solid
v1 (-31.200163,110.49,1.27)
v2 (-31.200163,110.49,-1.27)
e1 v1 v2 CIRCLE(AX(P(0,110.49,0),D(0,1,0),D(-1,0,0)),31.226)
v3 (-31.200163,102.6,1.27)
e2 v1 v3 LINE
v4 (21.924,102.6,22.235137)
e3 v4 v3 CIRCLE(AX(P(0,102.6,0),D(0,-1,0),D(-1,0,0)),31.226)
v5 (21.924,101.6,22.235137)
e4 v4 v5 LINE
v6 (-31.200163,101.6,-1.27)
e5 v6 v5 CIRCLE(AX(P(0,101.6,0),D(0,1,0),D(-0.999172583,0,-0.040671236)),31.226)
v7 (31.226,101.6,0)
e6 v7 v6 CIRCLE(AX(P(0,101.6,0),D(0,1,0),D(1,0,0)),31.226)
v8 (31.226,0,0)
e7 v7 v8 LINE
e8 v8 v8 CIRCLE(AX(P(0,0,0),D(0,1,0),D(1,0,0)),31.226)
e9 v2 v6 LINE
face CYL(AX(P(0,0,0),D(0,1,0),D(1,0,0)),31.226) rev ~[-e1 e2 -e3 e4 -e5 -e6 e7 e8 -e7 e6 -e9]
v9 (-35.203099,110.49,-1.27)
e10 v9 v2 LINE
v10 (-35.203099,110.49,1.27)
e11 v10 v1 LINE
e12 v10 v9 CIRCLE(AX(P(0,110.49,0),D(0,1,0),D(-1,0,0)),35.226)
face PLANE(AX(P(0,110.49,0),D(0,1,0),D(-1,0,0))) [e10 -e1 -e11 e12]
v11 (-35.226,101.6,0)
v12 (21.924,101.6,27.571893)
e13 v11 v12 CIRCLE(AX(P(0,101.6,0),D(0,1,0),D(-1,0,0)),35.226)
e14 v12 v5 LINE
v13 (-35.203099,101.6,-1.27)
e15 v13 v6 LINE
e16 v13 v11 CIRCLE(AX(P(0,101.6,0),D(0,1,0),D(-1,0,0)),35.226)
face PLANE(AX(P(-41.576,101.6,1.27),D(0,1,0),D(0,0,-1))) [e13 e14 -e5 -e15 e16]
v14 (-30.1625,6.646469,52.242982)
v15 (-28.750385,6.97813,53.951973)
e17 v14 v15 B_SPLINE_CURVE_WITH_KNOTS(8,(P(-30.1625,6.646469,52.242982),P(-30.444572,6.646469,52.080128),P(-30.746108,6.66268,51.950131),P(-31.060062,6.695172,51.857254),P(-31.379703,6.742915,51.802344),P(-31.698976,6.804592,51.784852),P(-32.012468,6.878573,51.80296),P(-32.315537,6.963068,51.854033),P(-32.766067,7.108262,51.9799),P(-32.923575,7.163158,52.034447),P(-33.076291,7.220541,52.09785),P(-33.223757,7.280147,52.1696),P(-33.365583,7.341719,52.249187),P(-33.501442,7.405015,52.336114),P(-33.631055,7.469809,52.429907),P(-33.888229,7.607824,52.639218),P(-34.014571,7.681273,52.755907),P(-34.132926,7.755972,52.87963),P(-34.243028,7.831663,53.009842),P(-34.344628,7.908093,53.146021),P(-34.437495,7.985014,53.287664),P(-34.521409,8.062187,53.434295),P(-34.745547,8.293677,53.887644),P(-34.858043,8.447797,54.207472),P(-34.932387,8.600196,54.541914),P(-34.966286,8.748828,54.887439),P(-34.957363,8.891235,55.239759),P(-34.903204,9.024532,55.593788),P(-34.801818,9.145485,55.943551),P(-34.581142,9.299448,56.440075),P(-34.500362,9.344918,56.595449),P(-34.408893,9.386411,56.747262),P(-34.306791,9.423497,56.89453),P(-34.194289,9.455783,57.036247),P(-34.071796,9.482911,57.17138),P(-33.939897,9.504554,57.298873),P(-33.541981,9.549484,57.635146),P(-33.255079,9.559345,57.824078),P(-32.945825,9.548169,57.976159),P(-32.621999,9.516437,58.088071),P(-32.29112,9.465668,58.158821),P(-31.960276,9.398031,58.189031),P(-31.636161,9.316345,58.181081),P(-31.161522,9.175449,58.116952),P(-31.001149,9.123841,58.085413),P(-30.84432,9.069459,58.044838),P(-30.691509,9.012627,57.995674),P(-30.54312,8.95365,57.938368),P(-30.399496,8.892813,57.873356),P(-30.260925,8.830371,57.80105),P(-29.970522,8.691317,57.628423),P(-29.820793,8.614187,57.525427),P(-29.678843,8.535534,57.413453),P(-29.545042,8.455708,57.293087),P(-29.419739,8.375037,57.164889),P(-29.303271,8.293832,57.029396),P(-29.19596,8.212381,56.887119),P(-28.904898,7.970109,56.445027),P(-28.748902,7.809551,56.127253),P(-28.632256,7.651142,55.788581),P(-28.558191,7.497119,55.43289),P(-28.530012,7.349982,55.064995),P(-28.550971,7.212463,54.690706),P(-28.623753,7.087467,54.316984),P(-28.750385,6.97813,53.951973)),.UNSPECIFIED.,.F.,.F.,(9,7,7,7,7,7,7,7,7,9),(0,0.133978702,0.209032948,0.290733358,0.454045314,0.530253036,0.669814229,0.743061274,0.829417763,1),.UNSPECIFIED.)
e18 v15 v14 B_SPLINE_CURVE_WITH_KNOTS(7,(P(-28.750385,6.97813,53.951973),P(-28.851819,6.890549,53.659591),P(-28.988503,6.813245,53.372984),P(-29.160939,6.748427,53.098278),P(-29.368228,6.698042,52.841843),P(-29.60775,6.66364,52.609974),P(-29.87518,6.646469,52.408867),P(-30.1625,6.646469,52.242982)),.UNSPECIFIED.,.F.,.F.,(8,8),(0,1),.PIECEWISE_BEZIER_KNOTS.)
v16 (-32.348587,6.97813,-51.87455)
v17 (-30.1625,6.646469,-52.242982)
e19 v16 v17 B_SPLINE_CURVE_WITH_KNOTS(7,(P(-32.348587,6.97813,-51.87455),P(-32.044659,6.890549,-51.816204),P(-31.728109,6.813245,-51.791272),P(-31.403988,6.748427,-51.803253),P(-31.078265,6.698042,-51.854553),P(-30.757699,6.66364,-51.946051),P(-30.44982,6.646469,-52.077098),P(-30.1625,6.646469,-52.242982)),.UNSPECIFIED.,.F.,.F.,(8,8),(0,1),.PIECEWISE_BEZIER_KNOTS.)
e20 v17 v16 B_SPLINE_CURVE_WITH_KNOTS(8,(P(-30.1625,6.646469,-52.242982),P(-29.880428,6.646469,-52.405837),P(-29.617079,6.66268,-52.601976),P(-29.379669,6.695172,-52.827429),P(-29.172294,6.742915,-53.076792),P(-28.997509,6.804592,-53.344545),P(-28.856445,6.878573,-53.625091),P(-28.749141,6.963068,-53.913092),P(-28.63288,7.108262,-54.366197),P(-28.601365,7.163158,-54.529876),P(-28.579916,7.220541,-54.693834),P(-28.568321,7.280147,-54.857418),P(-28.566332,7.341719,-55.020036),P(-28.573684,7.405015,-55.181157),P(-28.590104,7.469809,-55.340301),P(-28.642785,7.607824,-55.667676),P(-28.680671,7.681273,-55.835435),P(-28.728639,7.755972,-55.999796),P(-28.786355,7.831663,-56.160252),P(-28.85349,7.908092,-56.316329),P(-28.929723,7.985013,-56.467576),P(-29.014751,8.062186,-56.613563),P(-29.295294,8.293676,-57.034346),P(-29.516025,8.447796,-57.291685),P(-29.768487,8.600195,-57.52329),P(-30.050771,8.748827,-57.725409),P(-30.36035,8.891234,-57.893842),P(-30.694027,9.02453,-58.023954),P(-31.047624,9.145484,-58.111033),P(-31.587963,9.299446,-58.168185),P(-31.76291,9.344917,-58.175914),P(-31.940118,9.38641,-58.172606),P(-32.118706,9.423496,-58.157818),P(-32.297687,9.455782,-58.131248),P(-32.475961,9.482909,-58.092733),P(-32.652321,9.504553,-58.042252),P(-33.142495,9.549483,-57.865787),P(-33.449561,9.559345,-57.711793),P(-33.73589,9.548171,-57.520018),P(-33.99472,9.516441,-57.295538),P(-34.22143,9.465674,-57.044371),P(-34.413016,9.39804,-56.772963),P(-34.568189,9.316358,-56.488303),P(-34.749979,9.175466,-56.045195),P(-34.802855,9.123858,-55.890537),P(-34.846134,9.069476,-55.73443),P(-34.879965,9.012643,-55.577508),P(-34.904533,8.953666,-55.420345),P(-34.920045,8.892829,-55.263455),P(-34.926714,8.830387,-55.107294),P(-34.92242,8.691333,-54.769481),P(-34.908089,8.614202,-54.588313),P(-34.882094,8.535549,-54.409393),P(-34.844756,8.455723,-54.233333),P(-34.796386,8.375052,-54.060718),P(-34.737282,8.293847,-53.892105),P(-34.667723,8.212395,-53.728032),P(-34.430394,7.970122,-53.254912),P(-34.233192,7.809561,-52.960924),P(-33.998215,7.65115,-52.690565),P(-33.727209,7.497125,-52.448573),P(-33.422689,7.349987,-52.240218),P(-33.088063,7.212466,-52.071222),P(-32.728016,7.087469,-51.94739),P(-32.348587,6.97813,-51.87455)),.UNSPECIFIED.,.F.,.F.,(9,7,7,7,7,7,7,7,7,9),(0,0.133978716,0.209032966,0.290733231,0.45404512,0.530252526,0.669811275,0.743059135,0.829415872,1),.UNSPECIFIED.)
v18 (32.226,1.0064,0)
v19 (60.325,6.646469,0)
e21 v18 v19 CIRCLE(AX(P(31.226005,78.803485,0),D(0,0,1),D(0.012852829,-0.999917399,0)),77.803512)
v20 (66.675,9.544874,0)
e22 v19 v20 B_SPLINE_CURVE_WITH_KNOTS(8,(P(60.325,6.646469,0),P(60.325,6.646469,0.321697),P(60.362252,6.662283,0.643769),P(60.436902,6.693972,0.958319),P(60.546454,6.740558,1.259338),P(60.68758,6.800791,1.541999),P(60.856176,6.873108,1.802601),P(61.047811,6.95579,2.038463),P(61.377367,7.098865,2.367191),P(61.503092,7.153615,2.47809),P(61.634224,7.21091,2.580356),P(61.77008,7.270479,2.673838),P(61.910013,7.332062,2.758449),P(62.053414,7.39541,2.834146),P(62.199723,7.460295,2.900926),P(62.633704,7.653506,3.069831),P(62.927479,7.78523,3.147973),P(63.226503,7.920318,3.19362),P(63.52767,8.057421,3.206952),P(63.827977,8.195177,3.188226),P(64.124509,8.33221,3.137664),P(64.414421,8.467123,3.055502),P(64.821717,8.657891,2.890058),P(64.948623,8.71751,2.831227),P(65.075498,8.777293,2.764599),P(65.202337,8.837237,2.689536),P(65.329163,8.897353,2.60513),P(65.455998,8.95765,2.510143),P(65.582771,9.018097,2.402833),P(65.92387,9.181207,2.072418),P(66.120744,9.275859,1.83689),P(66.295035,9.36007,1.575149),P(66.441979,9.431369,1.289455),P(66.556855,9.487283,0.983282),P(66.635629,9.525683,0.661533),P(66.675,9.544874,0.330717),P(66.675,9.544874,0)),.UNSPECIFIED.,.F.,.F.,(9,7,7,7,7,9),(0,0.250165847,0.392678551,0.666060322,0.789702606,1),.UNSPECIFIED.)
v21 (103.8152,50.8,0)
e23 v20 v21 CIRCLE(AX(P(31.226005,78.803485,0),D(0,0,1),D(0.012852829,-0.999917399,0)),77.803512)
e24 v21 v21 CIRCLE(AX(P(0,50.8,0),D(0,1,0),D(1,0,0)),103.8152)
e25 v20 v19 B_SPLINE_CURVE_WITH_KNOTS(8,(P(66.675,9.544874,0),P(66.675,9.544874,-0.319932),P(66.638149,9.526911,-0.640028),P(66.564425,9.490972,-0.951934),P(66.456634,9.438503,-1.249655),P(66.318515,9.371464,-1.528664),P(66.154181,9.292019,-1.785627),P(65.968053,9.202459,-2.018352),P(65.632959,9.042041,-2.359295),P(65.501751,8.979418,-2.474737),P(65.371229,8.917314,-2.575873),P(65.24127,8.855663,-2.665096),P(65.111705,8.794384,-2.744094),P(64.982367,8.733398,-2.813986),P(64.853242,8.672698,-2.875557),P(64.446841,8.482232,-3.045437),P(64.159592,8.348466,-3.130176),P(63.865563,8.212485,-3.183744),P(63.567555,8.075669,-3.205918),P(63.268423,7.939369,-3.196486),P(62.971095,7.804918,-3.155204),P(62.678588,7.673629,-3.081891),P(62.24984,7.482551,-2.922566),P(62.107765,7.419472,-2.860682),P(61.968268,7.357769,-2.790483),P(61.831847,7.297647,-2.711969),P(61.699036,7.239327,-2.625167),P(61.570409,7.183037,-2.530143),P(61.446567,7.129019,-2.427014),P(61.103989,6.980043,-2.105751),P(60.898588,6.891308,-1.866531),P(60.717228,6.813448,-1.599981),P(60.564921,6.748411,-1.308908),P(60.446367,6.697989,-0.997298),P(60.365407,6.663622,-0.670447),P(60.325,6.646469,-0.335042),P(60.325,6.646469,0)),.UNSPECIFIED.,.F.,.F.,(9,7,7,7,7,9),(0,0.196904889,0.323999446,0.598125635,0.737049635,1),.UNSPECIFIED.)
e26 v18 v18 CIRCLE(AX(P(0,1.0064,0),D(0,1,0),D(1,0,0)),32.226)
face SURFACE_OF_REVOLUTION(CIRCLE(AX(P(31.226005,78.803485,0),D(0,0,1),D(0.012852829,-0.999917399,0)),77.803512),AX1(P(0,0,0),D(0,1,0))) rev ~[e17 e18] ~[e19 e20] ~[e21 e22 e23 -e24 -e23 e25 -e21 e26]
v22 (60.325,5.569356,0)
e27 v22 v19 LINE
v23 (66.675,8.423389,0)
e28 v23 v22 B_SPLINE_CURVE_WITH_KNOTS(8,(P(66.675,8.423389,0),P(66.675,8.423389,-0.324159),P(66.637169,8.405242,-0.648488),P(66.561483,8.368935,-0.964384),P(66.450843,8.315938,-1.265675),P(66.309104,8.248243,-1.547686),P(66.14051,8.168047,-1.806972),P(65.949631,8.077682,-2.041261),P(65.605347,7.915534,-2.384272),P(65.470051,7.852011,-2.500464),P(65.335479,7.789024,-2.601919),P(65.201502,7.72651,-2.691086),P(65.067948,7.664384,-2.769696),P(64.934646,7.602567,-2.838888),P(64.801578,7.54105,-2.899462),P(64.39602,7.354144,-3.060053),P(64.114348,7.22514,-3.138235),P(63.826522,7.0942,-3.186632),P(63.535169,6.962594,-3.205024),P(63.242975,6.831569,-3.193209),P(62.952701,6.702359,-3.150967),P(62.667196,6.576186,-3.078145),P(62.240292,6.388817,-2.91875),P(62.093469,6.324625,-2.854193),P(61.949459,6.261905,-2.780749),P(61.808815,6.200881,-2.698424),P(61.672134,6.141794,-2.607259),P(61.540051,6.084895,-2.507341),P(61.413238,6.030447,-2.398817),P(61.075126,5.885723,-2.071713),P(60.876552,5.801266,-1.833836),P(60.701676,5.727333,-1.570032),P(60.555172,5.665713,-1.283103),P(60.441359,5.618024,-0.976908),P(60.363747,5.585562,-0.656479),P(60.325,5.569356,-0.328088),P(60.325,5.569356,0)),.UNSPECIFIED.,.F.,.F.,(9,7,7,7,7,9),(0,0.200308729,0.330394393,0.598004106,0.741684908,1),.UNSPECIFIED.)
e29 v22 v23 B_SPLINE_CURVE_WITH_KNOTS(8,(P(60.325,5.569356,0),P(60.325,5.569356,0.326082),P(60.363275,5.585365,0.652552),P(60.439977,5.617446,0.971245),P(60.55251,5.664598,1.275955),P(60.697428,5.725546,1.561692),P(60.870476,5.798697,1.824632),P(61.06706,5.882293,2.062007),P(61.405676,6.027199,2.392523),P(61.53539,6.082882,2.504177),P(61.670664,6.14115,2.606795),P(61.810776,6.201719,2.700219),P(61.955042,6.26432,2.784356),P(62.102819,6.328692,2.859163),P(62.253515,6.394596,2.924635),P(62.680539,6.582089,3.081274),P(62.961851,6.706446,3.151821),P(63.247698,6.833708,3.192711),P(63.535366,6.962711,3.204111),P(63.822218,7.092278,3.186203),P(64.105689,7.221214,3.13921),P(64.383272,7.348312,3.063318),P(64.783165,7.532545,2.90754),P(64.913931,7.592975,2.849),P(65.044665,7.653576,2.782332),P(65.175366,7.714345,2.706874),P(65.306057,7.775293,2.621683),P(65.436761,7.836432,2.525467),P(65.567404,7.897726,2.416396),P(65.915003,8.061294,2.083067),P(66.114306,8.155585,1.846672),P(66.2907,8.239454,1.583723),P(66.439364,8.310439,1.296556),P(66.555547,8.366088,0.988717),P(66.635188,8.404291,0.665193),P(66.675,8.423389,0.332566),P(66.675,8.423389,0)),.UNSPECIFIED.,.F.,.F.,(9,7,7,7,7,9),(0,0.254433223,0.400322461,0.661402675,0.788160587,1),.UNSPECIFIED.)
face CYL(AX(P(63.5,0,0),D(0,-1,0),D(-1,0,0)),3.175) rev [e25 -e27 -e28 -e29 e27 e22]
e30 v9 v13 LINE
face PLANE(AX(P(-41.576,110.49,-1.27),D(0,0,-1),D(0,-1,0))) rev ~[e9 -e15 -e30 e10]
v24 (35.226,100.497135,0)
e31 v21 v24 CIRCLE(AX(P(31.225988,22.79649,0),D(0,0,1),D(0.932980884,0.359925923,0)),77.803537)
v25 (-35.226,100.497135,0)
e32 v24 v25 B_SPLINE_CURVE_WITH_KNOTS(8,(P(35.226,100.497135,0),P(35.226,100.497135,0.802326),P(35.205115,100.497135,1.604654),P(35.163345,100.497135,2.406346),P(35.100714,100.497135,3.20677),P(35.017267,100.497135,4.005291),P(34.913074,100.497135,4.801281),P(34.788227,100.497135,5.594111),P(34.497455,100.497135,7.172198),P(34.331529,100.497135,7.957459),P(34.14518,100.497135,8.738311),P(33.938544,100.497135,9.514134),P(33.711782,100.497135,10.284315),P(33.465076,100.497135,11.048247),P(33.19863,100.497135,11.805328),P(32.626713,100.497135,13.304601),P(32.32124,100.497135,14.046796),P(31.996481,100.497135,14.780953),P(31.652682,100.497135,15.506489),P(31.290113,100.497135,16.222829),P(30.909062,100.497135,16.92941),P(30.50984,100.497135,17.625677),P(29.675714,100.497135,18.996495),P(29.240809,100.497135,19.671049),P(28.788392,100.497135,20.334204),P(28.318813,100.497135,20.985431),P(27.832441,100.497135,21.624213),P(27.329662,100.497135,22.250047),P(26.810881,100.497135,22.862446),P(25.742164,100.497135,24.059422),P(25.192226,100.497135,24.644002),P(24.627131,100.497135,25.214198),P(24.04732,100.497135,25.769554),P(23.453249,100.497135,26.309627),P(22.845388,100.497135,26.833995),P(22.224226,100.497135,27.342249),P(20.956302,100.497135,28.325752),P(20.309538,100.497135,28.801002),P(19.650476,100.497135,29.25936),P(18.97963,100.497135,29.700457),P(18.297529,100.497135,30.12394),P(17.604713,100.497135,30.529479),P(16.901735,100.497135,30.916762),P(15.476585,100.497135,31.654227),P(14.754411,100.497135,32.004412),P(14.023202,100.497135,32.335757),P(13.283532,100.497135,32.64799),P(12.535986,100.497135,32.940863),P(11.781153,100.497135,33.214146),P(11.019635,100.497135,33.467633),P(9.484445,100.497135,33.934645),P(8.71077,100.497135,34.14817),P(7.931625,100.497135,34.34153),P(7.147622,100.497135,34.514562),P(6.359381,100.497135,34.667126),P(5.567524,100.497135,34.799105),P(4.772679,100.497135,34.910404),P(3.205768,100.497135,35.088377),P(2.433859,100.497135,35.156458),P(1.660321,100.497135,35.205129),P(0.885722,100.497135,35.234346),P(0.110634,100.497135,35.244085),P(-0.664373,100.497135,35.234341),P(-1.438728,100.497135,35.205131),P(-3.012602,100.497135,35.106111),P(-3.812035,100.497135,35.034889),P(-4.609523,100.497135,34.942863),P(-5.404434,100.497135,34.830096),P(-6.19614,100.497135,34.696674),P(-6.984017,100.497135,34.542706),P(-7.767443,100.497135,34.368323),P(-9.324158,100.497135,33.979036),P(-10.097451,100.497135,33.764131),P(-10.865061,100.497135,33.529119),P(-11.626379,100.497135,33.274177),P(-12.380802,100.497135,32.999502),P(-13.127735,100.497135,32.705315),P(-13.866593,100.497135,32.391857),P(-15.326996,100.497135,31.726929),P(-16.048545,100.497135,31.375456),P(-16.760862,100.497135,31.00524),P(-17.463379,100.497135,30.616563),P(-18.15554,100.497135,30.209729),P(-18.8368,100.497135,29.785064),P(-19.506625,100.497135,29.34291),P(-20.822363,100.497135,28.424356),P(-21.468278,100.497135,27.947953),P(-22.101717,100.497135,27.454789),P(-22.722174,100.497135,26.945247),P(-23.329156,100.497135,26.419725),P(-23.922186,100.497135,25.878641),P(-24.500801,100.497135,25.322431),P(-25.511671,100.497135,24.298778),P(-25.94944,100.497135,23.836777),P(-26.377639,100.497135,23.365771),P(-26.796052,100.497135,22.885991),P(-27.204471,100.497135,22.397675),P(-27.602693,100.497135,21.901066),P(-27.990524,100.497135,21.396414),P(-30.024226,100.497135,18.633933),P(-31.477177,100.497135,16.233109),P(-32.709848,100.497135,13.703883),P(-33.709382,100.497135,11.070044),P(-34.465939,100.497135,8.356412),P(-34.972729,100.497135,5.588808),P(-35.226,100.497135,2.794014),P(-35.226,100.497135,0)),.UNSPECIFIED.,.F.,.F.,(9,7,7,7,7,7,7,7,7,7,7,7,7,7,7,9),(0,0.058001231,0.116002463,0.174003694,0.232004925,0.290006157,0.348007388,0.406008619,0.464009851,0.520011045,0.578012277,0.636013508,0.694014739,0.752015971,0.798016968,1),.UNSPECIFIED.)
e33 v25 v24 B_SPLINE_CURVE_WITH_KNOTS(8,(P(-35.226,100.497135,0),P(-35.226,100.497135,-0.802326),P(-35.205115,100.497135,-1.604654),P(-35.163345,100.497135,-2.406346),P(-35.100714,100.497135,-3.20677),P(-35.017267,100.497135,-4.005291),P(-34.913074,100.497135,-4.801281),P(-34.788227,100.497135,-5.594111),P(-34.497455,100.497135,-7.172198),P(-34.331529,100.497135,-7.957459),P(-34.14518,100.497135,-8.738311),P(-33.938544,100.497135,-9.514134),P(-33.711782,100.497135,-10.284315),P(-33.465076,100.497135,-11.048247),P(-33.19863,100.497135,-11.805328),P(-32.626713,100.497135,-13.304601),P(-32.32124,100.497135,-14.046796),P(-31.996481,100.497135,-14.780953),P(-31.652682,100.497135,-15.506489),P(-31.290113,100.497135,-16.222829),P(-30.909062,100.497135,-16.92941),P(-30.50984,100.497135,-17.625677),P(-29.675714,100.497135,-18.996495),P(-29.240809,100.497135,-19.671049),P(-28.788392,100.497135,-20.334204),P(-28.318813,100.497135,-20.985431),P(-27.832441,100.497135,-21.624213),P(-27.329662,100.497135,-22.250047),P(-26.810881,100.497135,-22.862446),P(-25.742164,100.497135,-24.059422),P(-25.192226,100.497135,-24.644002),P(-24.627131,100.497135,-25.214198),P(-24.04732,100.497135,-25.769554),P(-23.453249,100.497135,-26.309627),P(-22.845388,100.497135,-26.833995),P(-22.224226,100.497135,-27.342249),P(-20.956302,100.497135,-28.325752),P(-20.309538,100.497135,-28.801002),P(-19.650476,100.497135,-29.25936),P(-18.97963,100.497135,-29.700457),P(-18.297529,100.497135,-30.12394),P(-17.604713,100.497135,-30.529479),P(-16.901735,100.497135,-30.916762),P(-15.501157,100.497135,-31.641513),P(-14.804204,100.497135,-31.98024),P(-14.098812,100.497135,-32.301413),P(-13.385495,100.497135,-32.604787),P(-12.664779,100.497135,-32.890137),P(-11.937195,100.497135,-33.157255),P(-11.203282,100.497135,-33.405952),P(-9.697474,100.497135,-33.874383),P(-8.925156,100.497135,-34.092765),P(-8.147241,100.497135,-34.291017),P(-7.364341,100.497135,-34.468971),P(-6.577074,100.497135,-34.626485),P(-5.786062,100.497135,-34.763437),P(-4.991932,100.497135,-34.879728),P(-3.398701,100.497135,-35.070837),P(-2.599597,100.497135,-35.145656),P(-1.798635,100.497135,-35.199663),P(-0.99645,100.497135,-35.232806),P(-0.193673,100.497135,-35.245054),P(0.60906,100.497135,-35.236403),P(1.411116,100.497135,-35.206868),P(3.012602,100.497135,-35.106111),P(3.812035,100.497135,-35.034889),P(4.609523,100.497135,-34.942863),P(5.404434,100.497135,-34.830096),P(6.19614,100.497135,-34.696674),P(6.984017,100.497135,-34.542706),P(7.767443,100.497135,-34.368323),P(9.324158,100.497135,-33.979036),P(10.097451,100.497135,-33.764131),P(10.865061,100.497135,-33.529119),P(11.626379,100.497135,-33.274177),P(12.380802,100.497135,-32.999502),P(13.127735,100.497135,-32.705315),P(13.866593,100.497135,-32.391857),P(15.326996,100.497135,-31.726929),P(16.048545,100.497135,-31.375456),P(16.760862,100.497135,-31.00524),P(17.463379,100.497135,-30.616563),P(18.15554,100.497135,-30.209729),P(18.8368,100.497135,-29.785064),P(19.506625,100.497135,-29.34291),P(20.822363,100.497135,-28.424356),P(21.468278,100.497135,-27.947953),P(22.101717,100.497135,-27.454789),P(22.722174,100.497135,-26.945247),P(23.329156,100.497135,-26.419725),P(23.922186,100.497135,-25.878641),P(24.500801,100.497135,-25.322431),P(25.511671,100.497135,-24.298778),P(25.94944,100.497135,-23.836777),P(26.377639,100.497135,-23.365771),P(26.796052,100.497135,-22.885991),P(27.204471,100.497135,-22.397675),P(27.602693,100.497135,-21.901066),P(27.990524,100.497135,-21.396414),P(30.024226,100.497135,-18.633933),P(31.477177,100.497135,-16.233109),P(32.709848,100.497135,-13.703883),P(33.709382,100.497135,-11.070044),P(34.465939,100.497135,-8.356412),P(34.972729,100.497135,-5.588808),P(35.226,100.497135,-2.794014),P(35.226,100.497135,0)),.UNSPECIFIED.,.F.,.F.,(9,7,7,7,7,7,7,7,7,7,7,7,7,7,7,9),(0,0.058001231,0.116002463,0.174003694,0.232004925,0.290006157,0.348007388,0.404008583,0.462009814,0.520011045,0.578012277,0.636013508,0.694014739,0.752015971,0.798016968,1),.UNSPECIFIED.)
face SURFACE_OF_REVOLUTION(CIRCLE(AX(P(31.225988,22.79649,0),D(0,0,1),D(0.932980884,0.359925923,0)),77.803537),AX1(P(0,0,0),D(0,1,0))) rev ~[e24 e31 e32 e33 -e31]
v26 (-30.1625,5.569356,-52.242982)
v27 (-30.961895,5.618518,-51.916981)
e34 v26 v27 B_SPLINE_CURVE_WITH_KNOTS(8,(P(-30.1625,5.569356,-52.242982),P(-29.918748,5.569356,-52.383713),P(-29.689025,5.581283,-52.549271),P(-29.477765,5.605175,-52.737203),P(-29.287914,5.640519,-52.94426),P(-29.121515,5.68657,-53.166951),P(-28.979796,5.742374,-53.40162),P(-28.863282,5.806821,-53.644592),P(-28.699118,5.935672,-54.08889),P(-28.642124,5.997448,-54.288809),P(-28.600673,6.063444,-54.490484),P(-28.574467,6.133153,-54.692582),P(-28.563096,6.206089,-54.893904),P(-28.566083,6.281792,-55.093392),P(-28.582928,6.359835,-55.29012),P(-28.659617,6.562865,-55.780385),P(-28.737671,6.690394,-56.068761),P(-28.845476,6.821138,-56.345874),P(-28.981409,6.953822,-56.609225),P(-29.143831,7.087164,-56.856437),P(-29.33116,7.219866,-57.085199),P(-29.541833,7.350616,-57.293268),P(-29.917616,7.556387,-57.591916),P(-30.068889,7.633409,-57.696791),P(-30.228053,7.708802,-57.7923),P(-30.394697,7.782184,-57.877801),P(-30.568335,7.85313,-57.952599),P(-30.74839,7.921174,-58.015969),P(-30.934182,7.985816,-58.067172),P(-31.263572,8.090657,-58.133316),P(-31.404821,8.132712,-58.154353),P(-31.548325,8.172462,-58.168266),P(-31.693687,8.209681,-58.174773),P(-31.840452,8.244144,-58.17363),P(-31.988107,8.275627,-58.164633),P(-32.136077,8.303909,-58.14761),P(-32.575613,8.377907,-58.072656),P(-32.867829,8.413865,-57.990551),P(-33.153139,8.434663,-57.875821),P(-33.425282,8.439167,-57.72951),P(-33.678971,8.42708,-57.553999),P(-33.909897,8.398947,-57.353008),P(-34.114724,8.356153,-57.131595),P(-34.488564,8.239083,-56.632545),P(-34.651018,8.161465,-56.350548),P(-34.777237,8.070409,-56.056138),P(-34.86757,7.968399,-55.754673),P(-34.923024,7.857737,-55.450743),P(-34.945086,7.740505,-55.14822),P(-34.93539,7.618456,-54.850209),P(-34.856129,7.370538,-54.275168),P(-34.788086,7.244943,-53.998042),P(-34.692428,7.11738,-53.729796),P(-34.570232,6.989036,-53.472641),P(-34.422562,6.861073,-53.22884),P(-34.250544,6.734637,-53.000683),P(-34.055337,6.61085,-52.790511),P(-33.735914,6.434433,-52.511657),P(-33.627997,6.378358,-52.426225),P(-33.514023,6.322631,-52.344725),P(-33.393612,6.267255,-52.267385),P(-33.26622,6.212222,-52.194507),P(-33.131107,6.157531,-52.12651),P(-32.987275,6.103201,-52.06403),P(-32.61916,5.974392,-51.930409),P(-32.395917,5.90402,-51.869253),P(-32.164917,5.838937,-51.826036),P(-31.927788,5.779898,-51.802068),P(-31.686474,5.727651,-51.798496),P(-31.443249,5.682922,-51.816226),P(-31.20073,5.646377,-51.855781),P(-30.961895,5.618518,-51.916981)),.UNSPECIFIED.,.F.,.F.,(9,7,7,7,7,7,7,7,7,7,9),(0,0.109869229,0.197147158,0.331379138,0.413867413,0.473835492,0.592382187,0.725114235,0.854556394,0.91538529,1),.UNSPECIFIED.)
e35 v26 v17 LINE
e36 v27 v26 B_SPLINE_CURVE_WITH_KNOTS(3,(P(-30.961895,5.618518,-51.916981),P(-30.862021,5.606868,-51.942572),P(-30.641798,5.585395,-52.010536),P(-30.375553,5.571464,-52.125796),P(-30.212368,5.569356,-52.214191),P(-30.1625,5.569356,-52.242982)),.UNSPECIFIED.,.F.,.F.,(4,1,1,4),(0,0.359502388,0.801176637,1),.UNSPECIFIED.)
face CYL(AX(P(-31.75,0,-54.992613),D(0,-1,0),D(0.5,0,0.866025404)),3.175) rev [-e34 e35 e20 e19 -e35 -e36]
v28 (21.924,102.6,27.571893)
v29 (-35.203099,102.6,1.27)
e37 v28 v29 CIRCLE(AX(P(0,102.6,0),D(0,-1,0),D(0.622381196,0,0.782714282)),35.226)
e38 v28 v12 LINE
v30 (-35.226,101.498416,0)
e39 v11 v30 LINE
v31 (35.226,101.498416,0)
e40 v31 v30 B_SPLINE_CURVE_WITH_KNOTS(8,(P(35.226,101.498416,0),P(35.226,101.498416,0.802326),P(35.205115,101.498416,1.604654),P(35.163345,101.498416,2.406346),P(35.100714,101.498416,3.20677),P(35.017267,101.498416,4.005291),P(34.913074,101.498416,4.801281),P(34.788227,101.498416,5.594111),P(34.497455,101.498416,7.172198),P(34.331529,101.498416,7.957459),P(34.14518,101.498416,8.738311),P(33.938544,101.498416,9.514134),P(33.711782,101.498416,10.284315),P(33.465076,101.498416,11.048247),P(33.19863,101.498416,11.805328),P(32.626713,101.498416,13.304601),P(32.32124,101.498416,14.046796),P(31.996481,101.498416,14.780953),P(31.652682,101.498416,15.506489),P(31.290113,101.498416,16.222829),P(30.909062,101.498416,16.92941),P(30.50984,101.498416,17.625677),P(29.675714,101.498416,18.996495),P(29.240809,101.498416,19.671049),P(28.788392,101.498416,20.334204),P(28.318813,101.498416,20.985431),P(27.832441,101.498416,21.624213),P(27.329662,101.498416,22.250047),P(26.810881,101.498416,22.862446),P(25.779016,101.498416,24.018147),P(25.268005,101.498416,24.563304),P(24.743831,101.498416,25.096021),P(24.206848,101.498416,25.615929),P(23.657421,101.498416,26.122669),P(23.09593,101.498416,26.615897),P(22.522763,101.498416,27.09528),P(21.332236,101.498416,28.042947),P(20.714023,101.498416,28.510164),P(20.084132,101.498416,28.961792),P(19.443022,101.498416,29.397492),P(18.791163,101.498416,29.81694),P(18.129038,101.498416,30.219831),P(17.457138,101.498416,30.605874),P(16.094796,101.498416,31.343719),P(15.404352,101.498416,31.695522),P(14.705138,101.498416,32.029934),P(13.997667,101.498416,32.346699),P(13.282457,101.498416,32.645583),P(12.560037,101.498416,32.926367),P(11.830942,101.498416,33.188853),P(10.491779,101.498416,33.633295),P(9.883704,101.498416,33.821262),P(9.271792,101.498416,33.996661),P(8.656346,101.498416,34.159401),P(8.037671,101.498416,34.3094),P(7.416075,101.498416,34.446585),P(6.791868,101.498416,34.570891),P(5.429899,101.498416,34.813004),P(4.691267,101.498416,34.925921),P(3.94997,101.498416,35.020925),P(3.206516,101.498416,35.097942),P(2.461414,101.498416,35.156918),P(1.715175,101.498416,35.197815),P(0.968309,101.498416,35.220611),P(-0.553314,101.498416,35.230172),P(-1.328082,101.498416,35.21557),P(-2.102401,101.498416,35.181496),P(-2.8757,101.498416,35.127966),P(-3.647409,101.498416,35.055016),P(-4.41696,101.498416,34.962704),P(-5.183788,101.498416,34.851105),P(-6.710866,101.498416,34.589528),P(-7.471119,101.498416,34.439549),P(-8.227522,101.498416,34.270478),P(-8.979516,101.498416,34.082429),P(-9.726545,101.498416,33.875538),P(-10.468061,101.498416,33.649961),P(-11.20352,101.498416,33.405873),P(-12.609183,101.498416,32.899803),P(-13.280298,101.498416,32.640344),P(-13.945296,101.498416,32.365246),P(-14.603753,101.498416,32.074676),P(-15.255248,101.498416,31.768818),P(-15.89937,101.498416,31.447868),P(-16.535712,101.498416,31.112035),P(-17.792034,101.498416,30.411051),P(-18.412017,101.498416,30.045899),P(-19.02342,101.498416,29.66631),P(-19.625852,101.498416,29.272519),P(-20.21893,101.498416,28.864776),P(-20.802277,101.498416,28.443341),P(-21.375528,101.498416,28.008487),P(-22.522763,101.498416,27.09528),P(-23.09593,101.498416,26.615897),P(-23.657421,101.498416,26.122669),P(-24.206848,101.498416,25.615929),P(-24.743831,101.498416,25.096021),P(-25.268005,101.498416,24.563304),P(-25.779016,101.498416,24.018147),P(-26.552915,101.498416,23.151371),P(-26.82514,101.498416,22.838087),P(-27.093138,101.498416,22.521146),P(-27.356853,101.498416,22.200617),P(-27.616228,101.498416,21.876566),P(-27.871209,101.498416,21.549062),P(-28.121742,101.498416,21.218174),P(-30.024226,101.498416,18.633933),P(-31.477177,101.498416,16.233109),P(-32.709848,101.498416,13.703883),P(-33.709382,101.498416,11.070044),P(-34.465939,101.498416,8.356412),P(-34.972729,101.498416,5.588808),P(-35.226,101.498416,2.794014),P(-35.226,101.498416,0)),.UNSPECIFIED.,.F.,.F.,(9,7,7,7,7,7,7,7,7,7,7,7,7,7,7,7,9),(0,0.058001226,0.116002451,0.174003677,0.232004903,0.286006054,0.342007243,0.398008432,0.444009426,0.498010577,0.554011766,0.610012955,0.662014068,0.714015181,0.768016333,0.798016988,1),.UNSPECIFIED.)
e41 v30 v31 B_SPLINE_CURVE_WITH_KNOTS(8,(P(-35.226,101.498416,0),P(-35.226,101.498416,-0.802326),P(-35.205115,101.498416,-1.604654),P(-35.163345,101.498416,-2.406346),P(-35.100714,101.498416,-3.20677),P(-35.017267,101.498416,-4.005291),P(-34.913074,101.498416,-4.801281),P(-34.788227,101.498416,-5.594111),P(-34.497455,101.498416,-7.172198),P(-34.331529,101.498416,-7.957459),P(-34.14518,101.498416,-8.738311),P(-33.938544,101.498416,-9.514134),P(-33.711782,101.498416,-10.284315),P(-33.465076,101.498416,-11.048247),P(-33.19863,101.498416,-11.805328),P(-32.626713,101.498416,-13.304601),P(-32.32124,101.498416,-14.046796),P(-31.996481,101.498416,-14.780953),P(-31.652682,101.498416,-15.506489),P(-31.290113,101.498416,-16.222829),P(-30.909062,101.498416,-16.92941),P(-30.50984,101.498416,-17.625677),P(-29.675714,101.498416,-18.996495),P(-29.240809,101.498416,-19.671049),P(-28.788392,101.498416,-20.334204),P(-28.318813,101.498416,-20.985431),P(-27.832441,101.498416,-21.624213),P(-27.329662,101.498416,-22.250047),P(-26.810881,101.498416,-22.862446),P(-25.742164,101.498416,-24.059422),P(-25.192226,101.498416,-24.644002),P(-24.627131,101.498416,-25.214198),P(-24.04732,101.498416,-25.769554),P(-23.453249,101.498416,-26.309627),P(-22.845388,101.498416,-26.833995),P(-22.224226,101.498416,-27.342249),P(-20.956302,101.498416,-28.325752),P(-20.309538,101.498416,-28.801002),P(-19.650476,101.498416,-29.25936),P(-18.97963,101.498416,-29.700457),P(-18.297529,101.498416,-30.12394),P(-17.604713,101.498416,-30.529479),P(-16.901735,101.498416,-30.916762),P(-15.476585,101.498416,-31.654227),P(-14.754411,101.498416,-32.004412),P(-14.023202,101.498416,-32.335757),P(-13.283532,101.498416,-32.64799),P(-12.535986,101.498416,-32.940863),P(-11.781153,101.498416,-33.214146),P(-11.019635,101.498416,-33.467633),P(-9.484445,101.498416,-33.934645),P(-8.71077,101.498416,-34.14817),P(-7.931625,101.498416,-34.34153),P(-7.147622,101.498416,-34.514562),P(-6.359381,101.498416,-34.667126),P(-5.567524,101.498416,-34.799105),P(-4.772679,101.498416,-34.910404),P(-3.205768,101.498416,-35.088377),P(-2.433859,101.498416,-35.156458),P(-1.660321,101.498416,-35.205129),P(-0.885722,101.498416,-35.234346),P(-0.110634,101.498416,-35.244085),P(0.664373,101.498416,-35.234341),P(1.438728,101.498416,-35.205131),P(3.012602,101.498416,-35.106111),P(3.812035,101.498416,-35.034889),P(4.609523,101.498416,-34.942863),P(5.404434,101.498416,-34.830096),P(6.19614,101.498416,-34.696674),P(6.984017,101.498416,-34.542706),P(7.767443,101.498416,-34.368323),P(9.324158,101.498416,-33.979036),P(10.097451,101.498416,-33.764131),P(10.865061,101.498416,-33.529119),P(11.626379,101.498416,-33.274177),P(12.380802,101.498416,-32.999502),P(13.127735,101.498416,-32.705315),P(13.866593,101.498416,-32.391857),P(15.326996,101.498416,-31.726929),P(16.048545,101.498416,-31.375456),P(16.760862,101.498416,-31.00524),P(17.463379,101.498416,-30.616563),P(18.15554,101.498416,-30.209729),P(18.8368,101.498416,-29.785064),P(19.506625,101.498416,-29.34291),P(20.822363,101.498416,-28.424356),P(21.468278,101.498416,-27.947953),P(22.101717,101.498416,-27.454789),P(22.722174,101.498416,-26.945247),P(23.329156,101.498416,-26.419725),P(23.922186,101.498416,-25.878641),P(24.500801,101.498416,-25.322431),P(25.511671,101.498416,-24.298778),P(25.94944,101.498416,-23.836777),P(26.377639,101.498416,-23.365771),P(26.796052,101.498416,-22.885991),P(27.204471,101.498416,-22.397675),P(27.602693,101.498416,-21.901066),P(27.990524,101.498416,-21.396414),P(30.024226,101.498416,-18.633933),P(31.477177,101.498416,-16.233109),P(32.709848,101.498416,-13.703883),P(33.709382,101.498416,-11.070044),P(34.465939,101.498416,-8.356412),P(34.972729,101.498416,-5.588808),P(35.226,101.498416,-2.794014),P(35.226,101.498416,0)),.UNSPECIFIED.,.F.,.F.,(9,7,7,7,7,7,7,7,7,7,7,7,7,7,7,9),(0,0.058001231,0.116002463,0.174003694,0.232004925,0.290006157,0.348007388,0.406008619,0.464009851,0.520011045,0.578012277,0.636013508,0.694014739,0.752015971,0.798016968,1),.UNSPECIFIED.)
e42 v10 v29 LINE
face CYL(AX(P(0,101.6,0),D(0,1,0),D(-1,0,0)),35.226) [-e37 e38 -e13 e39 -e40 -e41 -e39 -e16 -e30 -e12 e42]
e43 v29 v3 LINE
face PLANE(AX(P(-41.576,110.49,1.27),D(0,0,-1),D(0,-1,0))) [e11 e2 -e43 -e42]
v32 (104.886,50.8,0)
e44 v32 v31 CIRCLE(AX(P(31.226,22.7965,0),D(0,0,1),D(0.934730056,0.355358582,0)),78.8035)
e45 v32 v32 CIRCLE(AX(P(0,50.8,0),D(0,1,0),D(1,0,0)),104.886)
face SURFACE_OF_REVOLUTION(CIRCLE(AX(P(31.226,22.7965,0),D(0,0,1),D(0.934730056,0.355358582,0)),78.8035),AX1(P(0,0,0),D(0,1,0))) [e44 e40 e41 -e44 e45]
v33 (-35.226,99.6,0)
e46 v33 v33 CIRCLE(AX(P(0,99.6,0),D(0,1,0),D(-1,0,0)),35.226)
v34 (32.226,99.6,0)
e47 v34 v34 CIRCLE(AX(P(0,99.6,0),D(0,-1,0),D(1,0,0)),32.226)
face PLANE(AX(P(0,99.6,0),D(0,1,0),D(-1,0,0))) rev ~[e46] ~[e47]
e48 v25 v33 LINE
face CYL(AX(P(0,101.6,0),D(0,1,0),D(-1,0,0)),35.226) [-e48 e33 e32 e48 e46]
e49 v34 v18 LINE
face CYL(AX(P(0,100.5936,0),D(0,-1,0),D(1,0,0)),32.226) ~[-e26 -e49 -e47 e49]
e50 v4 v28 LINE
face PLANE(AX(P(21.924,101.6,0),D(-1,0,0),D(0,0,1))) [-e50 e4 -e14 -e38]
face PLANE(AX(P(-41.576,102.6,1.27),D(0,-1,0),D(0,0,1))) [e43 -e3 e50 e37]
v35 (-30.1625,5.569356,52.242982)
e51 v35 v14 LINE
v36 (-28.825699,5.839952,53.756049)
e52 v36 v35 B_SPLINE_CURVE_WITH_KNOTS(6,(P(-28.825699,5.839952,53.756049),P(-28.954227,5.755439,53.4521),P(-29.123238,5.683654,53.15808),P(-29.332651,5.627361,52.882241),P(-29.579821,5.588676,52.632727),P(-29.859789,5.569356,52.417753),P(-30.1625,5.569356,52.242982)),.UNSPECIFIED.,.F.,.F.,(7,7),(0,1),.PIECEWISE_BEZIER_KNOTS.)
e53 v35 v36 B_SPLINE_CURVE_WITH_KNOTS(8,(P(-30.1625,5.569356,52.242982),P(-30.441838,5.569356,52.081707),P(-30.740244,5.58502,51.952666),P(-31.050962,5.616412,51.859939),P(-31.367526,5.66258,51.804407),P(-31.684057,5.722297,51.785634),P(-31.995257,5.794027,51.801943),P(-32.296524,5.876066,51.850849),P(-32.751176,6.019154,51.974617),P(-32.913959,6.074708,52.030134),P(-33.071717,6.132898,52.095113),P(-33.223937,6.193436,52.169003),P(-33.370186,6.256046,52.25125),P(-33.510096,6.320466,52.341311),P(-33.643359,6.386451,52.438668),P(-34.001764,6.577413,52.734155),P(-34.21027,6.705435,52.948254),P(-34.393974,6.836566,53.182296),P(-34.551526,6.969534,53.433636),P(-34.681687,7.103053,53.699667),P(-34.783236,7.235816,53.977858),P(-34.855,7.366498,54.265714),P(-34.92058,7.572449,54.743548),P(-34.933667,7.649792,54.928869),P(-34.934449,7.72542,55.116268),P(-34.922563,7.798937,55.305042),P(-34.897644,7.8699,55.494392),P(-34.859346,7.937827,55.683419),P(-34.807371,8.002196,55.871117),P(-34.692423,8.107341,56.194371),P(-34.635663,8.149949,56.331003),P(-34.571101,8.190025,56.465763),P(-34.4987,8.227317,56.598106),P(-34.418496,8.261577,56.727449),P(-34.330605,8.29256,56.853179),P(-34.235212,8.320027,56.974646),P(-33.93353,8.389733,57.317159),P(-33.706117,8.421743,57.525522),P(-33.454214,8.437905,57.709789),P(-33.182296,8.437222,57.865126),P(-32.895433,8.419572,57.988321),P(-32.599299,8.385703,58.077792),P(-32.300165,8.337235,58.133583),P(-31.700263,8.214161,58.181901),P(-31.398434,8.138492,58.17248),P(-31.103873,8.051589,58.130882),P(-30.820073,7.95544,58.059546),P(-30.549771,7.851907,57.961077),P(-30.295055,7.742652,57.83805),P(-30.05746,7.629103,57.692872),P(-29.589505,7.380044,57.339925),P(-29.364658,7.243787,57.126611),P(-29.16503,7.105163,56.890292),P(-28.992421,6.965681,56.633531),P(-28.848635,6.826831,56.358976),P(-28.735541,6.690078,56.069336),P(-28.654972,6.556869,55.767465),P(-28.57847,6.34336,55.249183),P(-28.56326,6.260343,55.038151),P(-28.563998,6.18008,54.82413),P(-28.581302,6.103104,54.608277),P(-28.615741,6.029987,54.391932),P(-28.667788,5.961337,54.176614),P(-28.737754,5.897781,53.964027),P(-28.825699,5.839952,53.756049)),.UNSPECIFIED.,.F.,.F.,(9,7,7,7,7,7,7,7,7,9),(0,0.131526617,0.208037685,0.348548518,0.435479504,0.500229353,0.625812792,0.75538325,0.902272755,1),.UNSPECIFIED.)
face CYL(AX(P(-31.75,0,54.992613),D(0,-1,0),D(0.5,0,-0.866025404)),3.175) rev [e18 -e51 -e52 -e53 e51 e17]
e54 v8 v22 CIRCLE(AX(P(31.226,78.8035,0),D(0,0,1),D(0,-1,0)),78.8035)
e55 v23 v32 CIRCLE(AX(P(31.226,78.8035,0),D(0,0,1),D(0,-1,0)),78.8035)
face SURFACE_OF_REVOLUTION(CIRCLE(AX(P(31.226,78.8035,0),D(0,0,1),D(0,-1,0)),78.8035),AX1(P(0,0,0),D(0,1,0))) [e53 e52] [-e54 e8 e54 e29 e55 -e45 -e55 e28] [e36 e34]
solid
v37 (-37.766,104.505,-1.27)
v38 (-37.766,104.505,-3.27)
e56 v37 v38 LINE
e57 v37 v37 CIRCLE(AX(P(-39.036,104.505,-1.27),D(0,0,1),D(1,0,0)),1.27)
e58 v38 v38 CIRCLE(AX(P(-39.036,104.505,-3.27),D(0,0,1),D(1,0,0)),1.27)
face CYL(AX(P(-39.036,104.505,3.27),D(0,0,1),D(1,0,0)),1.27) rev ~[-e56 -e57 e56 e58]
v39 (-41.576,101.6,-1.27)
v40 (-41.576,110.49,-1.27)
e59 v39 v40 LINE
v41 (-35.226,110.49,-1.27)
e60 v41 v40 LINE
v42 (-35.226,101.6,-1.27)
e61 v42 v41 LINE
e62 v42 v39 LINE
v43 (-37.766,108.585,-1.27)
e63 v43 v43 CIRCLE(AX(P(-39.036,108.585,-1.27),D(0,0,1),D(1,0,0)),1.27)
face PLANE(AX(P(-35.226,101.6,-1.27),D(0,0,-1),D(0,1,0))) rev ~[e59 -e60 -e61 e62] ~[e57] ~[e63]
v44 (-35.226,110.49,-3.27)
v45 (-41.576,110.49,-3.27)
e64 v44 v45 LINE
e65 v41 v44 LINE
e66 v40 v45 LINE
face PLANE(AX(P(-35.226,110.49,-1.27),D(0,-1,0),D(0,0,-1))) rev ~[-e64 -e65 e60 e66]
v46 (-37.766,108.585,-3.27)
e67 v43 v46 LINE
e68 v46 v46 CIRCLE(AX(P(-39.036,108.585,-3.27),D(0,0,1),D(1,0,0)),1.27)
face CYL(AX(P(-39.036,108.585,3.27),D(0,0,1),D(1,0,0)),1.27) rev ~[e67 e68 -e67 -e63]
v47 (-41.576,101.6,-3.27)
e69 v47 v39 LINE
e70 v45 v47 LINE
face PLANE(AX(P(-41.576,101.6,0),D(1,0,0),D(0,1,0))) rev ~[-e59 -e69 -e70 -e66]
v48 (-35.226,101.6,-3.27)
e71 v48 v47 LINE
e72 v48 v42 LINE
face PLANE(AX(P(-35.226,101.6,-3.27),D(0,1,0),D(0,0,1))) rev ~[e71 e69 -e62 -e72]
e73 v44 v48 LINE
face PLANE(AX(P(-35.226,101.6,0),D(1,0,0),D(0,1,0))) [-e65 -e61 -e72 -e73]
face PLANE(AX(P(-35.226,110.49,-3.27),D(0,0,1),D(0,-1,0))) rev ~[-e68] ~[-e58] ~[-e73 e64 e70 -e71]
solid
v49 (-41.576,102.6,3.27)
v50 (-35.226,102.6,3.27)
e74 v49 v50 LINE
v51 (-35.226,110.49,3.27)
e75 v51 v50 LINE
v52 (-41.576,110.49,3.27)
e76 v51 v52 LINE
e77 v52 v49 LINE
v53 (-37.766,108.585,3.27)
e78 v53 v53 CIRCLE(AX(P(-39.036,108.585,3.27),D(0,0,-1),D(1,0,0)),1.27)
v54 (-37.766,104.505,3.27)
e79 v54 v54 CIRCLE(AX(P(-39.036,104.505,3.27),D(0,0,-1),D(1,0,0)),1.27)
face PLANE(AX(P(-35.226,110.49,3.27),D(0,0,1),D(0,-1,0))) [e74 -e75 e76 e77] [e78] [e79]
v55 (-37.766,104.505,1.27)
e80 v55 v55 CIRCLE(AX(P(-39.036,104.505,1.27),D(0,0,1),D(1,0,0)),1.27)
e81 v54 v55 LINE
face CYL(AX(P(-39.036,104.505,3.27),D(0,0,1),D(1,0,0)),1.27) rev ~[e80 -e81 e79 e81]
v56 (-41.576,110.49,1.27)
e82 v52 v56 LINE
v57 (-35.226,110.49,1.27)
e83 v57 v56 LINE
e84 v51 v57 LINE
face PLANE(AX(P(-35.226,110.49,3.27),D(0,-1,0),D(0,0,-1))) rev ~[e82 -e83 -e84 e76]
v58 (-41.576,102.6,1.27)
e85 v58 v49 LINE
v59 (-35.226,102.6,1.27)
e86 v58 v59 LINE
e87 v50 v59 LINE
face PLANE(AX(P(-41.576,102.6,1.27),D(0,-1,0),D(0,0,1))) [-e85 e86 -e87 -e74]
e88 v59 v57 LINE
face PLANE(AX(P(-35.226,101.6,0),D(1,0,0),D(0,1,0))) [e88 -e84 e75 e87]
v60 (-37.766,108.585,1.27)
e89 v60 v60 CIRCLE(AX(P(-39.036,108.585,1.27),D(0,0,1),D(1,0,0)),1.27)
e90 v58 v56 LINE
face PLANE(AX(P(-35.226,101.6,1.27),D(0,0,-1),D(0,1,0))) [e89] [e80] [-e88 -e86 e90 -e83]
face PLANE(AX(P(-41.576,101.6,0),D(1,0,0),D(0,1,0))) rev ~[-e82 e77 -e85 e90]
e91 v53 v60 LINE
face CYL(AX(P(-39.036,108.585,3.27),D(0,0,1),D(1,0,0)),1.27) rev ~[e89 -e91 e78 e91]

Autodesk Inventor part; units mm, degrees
sketch "Sketch1" plane through (0, 0, 0) normal (0, 0, 1) x (1, 0, 0)
  line L0 (0, 0) -> (0, 76.2)
  line L1 (31.226, 0) -> (31.226, 101.6)
  line L2 (31.226, 50.8) -> (104.886, 50.8)
  arc A0 (104.886, 50.8) -> (31.226, 101.6) centre (31.226, 22.7965) ccw
  arc A1 (31.226, 0) -> (104.886, 50.8) centre (31.226, 78.8035) ccw
  line L3 (32.226, 100.5936) -> (32.226, 1.0064)
  arc A2 (32.226, 1.0064) -> (103.8152, 50.8) centre (31.226, 78.8035) ccw
  arc A3 (103.8152, 50.8) -> (32.226, 100.5936) centre (31.226, 22.7965) ccw
  point P0 (31.226, 25.4)
  point P1 (88.0908, 24.2472)
  point P2 (32.226, 31.75)
  point P3 (86.773, 24.325)
  point P4 (32.226, 50.8)
  dimension "d0" = 101.6
  dimension "d1" = 31.226
  dimension "d2" = 50.8
  dimension "d3" = 0
  dimension "d4" = 73.66
  dimension "d24" = 78.8035
  dimension "d33" = 1
revolve "Revolution1" add sketch "Sketch1" angle 360 about axis through (0, 0, 0) along (0, 1, 0) contours L1 L2 L3 A2 A1 | L1 A0 L2 A3 L3
sketch "Sketch6" plane through (0, 0, 0) normal (0, 0, 1) x (1, 0, 0)
  arc A0 (104.886, 50.8) -> (31.226, 101.6) centre (31.226, 22.7965) ccw projected
  line L0 (31.226, 101.6) -> (-31.226, 101.6) projected
  arc A1 (99.1182, 62.8044) -> (31.226, 101.6) centre (31.226, 22.7965) ccw
  line L1 (65.4318, 93.7892) -> (35.3304, 50.8)
  line L2 (103.8152, 50.8) -> (-103.8152, 50.8) projected
  point P0 (0, 0)
  dimension "d34" = 55
  dimension "d35" = 12.7
ref_plane "Work Plane4" through (65.4318, 93.7892, 0) normal (0.4341, 0.9009, 0) x (-0.9009, 0.4341, 0)
sketch "Sketch26" plane through (0, 0, 0) normal (0, 1, 0) x (-1, 0, 0)
  line L0 (0, 0) -> (-13.716, 0)
  circle A0 centre (-63.5, 0) radius 3.175
  dimension "d142" = 6.35
  dimension "d143" = 63.5
extrude "Extrusion17" cut sketch "Sketch26" along normal blind 25
pattern_circular "Circular Pattern5" count 3 over 360 about axis through (0, 78.8035, 0) along (0, 1, 0) of "Extrusion17"
ref_plane "Work Plane7" through (0, 101.6, 0) normal (0, 1, 0) x (-1, 0, 0)
sketch "Sketch30" plane through (0, 101.6, 0) normal (0, 1, 0) x (-1, 0, 0)
  circle A0 centre (0, 0) radius 31.226
  circle A1 centre (0, 0) radius 31.226 projected
  circle A2 centre (0, 0) radius 31.226
  circle A3 centre (0, 0) radius 35.226
  dimension "d161" = 4
extrude "Extrusion21" add sketch "Sketch30" along normal blind 8.89 and the other way blind 2
ref_plane "Work Plane8" through (-35.226, 101.6, 0) normal (1, 0, 0) x (0, 1, 0)
sketch "Sketch32" plane through (-35.226, 101.6, 0) normal (1, 0, 0) x (0, 1, 0)
  line L0 (8.89, 31.226) -> (8.89, -31.226) projected
  line L1 (8.89, -3.27) -> (0, -3.27)
  line L2 (0, -3.27) -> (0, -1.27)
  line L3 (0, -1.27) -> (8.89, -1.27)
  line L4 (8.89, -1.27) -> (8.89, -3.27)
  line L5 (0, 1.27) -> (8.89, 1.27)
  line L6 (8.89, 1.27) -> (8.89, 3.27)
  line L7 (8.89, 3.27) -> (0, 3.27)
  line L8 (0, 3.27) -> (0, 1.27)
  line L9 (8.89, 0) -> (0.002, 0)
  line L10 (-0.1016, 35.226) -> (-0.1016, -35.226) projected
  point P0 (-101.6, 0)
  point P1 (8.89, 3.27)
  dimension "d167" = 8.89
  dimension "d168" = 2.54
  dimension "d169" = 2
extrude "Extrusion22" add sketch "Sketch32" against normal blind 6.35
sketch "Sketch34" plane through (-41.576, 101.6, 0) normal (-1, 0, 0) x (0, 0, 1)
  line L0 (-1.27, 8.89) -> (-1.27, 0) projected
  line L1 (1.27, 8.89) -> (1.27, 0) projected
  line L2 (-1.27, 8.89) -> (1.27, 8.89)
  line L3 (1.27, 8.89) -> (1.27, 1)
  line L4 (1.27, 0) -> (-1.27, 0)
  line L5 (-1.27, 0) -> (-1.27, 8.89)
  line L6 (35.226, -0.1016) -> (35.226, 8.89) projected
  line L7 (1.27, 1) -> (35.226, 1)
  line L8 (35.226, 1) -> (35.226, 0)
  line L9 (35.226, 0) -> (1.27, 0)
  point P0 (0, -101.6)
  point P1 (35.226, 1)
  point P2 (1.27, 1)
  dimension "d172" = 1
extrude "Extrusion23" cut sketch "Sketch34" against normal blind 63.5
sketch "Sketch35" plane through (-41.576, 110.49, 3.27) normal (0, 0, 1) x (1, 0, 0)
  line L0 (6.35, 0) -> (0, 0) projected
  line L1 (2.54, 0) -> (2.54, -7.89)
  line L2 (0, -7.89) -> (6.35, -7.89) projected
  line L3 (0, -7.89) -> (0, 0) projected
  circle A0 centre (2.54, -1.905) radius 1.27
  circle A1 centre (2.54, -5.985) radius 1.27
  point P0 (41.576, -110.49)
  dimension "d175" = 2.54
  dimension "d176" = 2.54
  dimension "d177" = 2.54
  dimension "d178" = 1.905
  dimension "d179" = 1.905
extrude "Extrusion24" cut sketch "Sketch35" against normal up to surface (6.54 mm away) contours A0 L1 | L1 A0 | A1 L1 | L1 A1
properties part number "Water Sensor Bouy_3DPrint"
